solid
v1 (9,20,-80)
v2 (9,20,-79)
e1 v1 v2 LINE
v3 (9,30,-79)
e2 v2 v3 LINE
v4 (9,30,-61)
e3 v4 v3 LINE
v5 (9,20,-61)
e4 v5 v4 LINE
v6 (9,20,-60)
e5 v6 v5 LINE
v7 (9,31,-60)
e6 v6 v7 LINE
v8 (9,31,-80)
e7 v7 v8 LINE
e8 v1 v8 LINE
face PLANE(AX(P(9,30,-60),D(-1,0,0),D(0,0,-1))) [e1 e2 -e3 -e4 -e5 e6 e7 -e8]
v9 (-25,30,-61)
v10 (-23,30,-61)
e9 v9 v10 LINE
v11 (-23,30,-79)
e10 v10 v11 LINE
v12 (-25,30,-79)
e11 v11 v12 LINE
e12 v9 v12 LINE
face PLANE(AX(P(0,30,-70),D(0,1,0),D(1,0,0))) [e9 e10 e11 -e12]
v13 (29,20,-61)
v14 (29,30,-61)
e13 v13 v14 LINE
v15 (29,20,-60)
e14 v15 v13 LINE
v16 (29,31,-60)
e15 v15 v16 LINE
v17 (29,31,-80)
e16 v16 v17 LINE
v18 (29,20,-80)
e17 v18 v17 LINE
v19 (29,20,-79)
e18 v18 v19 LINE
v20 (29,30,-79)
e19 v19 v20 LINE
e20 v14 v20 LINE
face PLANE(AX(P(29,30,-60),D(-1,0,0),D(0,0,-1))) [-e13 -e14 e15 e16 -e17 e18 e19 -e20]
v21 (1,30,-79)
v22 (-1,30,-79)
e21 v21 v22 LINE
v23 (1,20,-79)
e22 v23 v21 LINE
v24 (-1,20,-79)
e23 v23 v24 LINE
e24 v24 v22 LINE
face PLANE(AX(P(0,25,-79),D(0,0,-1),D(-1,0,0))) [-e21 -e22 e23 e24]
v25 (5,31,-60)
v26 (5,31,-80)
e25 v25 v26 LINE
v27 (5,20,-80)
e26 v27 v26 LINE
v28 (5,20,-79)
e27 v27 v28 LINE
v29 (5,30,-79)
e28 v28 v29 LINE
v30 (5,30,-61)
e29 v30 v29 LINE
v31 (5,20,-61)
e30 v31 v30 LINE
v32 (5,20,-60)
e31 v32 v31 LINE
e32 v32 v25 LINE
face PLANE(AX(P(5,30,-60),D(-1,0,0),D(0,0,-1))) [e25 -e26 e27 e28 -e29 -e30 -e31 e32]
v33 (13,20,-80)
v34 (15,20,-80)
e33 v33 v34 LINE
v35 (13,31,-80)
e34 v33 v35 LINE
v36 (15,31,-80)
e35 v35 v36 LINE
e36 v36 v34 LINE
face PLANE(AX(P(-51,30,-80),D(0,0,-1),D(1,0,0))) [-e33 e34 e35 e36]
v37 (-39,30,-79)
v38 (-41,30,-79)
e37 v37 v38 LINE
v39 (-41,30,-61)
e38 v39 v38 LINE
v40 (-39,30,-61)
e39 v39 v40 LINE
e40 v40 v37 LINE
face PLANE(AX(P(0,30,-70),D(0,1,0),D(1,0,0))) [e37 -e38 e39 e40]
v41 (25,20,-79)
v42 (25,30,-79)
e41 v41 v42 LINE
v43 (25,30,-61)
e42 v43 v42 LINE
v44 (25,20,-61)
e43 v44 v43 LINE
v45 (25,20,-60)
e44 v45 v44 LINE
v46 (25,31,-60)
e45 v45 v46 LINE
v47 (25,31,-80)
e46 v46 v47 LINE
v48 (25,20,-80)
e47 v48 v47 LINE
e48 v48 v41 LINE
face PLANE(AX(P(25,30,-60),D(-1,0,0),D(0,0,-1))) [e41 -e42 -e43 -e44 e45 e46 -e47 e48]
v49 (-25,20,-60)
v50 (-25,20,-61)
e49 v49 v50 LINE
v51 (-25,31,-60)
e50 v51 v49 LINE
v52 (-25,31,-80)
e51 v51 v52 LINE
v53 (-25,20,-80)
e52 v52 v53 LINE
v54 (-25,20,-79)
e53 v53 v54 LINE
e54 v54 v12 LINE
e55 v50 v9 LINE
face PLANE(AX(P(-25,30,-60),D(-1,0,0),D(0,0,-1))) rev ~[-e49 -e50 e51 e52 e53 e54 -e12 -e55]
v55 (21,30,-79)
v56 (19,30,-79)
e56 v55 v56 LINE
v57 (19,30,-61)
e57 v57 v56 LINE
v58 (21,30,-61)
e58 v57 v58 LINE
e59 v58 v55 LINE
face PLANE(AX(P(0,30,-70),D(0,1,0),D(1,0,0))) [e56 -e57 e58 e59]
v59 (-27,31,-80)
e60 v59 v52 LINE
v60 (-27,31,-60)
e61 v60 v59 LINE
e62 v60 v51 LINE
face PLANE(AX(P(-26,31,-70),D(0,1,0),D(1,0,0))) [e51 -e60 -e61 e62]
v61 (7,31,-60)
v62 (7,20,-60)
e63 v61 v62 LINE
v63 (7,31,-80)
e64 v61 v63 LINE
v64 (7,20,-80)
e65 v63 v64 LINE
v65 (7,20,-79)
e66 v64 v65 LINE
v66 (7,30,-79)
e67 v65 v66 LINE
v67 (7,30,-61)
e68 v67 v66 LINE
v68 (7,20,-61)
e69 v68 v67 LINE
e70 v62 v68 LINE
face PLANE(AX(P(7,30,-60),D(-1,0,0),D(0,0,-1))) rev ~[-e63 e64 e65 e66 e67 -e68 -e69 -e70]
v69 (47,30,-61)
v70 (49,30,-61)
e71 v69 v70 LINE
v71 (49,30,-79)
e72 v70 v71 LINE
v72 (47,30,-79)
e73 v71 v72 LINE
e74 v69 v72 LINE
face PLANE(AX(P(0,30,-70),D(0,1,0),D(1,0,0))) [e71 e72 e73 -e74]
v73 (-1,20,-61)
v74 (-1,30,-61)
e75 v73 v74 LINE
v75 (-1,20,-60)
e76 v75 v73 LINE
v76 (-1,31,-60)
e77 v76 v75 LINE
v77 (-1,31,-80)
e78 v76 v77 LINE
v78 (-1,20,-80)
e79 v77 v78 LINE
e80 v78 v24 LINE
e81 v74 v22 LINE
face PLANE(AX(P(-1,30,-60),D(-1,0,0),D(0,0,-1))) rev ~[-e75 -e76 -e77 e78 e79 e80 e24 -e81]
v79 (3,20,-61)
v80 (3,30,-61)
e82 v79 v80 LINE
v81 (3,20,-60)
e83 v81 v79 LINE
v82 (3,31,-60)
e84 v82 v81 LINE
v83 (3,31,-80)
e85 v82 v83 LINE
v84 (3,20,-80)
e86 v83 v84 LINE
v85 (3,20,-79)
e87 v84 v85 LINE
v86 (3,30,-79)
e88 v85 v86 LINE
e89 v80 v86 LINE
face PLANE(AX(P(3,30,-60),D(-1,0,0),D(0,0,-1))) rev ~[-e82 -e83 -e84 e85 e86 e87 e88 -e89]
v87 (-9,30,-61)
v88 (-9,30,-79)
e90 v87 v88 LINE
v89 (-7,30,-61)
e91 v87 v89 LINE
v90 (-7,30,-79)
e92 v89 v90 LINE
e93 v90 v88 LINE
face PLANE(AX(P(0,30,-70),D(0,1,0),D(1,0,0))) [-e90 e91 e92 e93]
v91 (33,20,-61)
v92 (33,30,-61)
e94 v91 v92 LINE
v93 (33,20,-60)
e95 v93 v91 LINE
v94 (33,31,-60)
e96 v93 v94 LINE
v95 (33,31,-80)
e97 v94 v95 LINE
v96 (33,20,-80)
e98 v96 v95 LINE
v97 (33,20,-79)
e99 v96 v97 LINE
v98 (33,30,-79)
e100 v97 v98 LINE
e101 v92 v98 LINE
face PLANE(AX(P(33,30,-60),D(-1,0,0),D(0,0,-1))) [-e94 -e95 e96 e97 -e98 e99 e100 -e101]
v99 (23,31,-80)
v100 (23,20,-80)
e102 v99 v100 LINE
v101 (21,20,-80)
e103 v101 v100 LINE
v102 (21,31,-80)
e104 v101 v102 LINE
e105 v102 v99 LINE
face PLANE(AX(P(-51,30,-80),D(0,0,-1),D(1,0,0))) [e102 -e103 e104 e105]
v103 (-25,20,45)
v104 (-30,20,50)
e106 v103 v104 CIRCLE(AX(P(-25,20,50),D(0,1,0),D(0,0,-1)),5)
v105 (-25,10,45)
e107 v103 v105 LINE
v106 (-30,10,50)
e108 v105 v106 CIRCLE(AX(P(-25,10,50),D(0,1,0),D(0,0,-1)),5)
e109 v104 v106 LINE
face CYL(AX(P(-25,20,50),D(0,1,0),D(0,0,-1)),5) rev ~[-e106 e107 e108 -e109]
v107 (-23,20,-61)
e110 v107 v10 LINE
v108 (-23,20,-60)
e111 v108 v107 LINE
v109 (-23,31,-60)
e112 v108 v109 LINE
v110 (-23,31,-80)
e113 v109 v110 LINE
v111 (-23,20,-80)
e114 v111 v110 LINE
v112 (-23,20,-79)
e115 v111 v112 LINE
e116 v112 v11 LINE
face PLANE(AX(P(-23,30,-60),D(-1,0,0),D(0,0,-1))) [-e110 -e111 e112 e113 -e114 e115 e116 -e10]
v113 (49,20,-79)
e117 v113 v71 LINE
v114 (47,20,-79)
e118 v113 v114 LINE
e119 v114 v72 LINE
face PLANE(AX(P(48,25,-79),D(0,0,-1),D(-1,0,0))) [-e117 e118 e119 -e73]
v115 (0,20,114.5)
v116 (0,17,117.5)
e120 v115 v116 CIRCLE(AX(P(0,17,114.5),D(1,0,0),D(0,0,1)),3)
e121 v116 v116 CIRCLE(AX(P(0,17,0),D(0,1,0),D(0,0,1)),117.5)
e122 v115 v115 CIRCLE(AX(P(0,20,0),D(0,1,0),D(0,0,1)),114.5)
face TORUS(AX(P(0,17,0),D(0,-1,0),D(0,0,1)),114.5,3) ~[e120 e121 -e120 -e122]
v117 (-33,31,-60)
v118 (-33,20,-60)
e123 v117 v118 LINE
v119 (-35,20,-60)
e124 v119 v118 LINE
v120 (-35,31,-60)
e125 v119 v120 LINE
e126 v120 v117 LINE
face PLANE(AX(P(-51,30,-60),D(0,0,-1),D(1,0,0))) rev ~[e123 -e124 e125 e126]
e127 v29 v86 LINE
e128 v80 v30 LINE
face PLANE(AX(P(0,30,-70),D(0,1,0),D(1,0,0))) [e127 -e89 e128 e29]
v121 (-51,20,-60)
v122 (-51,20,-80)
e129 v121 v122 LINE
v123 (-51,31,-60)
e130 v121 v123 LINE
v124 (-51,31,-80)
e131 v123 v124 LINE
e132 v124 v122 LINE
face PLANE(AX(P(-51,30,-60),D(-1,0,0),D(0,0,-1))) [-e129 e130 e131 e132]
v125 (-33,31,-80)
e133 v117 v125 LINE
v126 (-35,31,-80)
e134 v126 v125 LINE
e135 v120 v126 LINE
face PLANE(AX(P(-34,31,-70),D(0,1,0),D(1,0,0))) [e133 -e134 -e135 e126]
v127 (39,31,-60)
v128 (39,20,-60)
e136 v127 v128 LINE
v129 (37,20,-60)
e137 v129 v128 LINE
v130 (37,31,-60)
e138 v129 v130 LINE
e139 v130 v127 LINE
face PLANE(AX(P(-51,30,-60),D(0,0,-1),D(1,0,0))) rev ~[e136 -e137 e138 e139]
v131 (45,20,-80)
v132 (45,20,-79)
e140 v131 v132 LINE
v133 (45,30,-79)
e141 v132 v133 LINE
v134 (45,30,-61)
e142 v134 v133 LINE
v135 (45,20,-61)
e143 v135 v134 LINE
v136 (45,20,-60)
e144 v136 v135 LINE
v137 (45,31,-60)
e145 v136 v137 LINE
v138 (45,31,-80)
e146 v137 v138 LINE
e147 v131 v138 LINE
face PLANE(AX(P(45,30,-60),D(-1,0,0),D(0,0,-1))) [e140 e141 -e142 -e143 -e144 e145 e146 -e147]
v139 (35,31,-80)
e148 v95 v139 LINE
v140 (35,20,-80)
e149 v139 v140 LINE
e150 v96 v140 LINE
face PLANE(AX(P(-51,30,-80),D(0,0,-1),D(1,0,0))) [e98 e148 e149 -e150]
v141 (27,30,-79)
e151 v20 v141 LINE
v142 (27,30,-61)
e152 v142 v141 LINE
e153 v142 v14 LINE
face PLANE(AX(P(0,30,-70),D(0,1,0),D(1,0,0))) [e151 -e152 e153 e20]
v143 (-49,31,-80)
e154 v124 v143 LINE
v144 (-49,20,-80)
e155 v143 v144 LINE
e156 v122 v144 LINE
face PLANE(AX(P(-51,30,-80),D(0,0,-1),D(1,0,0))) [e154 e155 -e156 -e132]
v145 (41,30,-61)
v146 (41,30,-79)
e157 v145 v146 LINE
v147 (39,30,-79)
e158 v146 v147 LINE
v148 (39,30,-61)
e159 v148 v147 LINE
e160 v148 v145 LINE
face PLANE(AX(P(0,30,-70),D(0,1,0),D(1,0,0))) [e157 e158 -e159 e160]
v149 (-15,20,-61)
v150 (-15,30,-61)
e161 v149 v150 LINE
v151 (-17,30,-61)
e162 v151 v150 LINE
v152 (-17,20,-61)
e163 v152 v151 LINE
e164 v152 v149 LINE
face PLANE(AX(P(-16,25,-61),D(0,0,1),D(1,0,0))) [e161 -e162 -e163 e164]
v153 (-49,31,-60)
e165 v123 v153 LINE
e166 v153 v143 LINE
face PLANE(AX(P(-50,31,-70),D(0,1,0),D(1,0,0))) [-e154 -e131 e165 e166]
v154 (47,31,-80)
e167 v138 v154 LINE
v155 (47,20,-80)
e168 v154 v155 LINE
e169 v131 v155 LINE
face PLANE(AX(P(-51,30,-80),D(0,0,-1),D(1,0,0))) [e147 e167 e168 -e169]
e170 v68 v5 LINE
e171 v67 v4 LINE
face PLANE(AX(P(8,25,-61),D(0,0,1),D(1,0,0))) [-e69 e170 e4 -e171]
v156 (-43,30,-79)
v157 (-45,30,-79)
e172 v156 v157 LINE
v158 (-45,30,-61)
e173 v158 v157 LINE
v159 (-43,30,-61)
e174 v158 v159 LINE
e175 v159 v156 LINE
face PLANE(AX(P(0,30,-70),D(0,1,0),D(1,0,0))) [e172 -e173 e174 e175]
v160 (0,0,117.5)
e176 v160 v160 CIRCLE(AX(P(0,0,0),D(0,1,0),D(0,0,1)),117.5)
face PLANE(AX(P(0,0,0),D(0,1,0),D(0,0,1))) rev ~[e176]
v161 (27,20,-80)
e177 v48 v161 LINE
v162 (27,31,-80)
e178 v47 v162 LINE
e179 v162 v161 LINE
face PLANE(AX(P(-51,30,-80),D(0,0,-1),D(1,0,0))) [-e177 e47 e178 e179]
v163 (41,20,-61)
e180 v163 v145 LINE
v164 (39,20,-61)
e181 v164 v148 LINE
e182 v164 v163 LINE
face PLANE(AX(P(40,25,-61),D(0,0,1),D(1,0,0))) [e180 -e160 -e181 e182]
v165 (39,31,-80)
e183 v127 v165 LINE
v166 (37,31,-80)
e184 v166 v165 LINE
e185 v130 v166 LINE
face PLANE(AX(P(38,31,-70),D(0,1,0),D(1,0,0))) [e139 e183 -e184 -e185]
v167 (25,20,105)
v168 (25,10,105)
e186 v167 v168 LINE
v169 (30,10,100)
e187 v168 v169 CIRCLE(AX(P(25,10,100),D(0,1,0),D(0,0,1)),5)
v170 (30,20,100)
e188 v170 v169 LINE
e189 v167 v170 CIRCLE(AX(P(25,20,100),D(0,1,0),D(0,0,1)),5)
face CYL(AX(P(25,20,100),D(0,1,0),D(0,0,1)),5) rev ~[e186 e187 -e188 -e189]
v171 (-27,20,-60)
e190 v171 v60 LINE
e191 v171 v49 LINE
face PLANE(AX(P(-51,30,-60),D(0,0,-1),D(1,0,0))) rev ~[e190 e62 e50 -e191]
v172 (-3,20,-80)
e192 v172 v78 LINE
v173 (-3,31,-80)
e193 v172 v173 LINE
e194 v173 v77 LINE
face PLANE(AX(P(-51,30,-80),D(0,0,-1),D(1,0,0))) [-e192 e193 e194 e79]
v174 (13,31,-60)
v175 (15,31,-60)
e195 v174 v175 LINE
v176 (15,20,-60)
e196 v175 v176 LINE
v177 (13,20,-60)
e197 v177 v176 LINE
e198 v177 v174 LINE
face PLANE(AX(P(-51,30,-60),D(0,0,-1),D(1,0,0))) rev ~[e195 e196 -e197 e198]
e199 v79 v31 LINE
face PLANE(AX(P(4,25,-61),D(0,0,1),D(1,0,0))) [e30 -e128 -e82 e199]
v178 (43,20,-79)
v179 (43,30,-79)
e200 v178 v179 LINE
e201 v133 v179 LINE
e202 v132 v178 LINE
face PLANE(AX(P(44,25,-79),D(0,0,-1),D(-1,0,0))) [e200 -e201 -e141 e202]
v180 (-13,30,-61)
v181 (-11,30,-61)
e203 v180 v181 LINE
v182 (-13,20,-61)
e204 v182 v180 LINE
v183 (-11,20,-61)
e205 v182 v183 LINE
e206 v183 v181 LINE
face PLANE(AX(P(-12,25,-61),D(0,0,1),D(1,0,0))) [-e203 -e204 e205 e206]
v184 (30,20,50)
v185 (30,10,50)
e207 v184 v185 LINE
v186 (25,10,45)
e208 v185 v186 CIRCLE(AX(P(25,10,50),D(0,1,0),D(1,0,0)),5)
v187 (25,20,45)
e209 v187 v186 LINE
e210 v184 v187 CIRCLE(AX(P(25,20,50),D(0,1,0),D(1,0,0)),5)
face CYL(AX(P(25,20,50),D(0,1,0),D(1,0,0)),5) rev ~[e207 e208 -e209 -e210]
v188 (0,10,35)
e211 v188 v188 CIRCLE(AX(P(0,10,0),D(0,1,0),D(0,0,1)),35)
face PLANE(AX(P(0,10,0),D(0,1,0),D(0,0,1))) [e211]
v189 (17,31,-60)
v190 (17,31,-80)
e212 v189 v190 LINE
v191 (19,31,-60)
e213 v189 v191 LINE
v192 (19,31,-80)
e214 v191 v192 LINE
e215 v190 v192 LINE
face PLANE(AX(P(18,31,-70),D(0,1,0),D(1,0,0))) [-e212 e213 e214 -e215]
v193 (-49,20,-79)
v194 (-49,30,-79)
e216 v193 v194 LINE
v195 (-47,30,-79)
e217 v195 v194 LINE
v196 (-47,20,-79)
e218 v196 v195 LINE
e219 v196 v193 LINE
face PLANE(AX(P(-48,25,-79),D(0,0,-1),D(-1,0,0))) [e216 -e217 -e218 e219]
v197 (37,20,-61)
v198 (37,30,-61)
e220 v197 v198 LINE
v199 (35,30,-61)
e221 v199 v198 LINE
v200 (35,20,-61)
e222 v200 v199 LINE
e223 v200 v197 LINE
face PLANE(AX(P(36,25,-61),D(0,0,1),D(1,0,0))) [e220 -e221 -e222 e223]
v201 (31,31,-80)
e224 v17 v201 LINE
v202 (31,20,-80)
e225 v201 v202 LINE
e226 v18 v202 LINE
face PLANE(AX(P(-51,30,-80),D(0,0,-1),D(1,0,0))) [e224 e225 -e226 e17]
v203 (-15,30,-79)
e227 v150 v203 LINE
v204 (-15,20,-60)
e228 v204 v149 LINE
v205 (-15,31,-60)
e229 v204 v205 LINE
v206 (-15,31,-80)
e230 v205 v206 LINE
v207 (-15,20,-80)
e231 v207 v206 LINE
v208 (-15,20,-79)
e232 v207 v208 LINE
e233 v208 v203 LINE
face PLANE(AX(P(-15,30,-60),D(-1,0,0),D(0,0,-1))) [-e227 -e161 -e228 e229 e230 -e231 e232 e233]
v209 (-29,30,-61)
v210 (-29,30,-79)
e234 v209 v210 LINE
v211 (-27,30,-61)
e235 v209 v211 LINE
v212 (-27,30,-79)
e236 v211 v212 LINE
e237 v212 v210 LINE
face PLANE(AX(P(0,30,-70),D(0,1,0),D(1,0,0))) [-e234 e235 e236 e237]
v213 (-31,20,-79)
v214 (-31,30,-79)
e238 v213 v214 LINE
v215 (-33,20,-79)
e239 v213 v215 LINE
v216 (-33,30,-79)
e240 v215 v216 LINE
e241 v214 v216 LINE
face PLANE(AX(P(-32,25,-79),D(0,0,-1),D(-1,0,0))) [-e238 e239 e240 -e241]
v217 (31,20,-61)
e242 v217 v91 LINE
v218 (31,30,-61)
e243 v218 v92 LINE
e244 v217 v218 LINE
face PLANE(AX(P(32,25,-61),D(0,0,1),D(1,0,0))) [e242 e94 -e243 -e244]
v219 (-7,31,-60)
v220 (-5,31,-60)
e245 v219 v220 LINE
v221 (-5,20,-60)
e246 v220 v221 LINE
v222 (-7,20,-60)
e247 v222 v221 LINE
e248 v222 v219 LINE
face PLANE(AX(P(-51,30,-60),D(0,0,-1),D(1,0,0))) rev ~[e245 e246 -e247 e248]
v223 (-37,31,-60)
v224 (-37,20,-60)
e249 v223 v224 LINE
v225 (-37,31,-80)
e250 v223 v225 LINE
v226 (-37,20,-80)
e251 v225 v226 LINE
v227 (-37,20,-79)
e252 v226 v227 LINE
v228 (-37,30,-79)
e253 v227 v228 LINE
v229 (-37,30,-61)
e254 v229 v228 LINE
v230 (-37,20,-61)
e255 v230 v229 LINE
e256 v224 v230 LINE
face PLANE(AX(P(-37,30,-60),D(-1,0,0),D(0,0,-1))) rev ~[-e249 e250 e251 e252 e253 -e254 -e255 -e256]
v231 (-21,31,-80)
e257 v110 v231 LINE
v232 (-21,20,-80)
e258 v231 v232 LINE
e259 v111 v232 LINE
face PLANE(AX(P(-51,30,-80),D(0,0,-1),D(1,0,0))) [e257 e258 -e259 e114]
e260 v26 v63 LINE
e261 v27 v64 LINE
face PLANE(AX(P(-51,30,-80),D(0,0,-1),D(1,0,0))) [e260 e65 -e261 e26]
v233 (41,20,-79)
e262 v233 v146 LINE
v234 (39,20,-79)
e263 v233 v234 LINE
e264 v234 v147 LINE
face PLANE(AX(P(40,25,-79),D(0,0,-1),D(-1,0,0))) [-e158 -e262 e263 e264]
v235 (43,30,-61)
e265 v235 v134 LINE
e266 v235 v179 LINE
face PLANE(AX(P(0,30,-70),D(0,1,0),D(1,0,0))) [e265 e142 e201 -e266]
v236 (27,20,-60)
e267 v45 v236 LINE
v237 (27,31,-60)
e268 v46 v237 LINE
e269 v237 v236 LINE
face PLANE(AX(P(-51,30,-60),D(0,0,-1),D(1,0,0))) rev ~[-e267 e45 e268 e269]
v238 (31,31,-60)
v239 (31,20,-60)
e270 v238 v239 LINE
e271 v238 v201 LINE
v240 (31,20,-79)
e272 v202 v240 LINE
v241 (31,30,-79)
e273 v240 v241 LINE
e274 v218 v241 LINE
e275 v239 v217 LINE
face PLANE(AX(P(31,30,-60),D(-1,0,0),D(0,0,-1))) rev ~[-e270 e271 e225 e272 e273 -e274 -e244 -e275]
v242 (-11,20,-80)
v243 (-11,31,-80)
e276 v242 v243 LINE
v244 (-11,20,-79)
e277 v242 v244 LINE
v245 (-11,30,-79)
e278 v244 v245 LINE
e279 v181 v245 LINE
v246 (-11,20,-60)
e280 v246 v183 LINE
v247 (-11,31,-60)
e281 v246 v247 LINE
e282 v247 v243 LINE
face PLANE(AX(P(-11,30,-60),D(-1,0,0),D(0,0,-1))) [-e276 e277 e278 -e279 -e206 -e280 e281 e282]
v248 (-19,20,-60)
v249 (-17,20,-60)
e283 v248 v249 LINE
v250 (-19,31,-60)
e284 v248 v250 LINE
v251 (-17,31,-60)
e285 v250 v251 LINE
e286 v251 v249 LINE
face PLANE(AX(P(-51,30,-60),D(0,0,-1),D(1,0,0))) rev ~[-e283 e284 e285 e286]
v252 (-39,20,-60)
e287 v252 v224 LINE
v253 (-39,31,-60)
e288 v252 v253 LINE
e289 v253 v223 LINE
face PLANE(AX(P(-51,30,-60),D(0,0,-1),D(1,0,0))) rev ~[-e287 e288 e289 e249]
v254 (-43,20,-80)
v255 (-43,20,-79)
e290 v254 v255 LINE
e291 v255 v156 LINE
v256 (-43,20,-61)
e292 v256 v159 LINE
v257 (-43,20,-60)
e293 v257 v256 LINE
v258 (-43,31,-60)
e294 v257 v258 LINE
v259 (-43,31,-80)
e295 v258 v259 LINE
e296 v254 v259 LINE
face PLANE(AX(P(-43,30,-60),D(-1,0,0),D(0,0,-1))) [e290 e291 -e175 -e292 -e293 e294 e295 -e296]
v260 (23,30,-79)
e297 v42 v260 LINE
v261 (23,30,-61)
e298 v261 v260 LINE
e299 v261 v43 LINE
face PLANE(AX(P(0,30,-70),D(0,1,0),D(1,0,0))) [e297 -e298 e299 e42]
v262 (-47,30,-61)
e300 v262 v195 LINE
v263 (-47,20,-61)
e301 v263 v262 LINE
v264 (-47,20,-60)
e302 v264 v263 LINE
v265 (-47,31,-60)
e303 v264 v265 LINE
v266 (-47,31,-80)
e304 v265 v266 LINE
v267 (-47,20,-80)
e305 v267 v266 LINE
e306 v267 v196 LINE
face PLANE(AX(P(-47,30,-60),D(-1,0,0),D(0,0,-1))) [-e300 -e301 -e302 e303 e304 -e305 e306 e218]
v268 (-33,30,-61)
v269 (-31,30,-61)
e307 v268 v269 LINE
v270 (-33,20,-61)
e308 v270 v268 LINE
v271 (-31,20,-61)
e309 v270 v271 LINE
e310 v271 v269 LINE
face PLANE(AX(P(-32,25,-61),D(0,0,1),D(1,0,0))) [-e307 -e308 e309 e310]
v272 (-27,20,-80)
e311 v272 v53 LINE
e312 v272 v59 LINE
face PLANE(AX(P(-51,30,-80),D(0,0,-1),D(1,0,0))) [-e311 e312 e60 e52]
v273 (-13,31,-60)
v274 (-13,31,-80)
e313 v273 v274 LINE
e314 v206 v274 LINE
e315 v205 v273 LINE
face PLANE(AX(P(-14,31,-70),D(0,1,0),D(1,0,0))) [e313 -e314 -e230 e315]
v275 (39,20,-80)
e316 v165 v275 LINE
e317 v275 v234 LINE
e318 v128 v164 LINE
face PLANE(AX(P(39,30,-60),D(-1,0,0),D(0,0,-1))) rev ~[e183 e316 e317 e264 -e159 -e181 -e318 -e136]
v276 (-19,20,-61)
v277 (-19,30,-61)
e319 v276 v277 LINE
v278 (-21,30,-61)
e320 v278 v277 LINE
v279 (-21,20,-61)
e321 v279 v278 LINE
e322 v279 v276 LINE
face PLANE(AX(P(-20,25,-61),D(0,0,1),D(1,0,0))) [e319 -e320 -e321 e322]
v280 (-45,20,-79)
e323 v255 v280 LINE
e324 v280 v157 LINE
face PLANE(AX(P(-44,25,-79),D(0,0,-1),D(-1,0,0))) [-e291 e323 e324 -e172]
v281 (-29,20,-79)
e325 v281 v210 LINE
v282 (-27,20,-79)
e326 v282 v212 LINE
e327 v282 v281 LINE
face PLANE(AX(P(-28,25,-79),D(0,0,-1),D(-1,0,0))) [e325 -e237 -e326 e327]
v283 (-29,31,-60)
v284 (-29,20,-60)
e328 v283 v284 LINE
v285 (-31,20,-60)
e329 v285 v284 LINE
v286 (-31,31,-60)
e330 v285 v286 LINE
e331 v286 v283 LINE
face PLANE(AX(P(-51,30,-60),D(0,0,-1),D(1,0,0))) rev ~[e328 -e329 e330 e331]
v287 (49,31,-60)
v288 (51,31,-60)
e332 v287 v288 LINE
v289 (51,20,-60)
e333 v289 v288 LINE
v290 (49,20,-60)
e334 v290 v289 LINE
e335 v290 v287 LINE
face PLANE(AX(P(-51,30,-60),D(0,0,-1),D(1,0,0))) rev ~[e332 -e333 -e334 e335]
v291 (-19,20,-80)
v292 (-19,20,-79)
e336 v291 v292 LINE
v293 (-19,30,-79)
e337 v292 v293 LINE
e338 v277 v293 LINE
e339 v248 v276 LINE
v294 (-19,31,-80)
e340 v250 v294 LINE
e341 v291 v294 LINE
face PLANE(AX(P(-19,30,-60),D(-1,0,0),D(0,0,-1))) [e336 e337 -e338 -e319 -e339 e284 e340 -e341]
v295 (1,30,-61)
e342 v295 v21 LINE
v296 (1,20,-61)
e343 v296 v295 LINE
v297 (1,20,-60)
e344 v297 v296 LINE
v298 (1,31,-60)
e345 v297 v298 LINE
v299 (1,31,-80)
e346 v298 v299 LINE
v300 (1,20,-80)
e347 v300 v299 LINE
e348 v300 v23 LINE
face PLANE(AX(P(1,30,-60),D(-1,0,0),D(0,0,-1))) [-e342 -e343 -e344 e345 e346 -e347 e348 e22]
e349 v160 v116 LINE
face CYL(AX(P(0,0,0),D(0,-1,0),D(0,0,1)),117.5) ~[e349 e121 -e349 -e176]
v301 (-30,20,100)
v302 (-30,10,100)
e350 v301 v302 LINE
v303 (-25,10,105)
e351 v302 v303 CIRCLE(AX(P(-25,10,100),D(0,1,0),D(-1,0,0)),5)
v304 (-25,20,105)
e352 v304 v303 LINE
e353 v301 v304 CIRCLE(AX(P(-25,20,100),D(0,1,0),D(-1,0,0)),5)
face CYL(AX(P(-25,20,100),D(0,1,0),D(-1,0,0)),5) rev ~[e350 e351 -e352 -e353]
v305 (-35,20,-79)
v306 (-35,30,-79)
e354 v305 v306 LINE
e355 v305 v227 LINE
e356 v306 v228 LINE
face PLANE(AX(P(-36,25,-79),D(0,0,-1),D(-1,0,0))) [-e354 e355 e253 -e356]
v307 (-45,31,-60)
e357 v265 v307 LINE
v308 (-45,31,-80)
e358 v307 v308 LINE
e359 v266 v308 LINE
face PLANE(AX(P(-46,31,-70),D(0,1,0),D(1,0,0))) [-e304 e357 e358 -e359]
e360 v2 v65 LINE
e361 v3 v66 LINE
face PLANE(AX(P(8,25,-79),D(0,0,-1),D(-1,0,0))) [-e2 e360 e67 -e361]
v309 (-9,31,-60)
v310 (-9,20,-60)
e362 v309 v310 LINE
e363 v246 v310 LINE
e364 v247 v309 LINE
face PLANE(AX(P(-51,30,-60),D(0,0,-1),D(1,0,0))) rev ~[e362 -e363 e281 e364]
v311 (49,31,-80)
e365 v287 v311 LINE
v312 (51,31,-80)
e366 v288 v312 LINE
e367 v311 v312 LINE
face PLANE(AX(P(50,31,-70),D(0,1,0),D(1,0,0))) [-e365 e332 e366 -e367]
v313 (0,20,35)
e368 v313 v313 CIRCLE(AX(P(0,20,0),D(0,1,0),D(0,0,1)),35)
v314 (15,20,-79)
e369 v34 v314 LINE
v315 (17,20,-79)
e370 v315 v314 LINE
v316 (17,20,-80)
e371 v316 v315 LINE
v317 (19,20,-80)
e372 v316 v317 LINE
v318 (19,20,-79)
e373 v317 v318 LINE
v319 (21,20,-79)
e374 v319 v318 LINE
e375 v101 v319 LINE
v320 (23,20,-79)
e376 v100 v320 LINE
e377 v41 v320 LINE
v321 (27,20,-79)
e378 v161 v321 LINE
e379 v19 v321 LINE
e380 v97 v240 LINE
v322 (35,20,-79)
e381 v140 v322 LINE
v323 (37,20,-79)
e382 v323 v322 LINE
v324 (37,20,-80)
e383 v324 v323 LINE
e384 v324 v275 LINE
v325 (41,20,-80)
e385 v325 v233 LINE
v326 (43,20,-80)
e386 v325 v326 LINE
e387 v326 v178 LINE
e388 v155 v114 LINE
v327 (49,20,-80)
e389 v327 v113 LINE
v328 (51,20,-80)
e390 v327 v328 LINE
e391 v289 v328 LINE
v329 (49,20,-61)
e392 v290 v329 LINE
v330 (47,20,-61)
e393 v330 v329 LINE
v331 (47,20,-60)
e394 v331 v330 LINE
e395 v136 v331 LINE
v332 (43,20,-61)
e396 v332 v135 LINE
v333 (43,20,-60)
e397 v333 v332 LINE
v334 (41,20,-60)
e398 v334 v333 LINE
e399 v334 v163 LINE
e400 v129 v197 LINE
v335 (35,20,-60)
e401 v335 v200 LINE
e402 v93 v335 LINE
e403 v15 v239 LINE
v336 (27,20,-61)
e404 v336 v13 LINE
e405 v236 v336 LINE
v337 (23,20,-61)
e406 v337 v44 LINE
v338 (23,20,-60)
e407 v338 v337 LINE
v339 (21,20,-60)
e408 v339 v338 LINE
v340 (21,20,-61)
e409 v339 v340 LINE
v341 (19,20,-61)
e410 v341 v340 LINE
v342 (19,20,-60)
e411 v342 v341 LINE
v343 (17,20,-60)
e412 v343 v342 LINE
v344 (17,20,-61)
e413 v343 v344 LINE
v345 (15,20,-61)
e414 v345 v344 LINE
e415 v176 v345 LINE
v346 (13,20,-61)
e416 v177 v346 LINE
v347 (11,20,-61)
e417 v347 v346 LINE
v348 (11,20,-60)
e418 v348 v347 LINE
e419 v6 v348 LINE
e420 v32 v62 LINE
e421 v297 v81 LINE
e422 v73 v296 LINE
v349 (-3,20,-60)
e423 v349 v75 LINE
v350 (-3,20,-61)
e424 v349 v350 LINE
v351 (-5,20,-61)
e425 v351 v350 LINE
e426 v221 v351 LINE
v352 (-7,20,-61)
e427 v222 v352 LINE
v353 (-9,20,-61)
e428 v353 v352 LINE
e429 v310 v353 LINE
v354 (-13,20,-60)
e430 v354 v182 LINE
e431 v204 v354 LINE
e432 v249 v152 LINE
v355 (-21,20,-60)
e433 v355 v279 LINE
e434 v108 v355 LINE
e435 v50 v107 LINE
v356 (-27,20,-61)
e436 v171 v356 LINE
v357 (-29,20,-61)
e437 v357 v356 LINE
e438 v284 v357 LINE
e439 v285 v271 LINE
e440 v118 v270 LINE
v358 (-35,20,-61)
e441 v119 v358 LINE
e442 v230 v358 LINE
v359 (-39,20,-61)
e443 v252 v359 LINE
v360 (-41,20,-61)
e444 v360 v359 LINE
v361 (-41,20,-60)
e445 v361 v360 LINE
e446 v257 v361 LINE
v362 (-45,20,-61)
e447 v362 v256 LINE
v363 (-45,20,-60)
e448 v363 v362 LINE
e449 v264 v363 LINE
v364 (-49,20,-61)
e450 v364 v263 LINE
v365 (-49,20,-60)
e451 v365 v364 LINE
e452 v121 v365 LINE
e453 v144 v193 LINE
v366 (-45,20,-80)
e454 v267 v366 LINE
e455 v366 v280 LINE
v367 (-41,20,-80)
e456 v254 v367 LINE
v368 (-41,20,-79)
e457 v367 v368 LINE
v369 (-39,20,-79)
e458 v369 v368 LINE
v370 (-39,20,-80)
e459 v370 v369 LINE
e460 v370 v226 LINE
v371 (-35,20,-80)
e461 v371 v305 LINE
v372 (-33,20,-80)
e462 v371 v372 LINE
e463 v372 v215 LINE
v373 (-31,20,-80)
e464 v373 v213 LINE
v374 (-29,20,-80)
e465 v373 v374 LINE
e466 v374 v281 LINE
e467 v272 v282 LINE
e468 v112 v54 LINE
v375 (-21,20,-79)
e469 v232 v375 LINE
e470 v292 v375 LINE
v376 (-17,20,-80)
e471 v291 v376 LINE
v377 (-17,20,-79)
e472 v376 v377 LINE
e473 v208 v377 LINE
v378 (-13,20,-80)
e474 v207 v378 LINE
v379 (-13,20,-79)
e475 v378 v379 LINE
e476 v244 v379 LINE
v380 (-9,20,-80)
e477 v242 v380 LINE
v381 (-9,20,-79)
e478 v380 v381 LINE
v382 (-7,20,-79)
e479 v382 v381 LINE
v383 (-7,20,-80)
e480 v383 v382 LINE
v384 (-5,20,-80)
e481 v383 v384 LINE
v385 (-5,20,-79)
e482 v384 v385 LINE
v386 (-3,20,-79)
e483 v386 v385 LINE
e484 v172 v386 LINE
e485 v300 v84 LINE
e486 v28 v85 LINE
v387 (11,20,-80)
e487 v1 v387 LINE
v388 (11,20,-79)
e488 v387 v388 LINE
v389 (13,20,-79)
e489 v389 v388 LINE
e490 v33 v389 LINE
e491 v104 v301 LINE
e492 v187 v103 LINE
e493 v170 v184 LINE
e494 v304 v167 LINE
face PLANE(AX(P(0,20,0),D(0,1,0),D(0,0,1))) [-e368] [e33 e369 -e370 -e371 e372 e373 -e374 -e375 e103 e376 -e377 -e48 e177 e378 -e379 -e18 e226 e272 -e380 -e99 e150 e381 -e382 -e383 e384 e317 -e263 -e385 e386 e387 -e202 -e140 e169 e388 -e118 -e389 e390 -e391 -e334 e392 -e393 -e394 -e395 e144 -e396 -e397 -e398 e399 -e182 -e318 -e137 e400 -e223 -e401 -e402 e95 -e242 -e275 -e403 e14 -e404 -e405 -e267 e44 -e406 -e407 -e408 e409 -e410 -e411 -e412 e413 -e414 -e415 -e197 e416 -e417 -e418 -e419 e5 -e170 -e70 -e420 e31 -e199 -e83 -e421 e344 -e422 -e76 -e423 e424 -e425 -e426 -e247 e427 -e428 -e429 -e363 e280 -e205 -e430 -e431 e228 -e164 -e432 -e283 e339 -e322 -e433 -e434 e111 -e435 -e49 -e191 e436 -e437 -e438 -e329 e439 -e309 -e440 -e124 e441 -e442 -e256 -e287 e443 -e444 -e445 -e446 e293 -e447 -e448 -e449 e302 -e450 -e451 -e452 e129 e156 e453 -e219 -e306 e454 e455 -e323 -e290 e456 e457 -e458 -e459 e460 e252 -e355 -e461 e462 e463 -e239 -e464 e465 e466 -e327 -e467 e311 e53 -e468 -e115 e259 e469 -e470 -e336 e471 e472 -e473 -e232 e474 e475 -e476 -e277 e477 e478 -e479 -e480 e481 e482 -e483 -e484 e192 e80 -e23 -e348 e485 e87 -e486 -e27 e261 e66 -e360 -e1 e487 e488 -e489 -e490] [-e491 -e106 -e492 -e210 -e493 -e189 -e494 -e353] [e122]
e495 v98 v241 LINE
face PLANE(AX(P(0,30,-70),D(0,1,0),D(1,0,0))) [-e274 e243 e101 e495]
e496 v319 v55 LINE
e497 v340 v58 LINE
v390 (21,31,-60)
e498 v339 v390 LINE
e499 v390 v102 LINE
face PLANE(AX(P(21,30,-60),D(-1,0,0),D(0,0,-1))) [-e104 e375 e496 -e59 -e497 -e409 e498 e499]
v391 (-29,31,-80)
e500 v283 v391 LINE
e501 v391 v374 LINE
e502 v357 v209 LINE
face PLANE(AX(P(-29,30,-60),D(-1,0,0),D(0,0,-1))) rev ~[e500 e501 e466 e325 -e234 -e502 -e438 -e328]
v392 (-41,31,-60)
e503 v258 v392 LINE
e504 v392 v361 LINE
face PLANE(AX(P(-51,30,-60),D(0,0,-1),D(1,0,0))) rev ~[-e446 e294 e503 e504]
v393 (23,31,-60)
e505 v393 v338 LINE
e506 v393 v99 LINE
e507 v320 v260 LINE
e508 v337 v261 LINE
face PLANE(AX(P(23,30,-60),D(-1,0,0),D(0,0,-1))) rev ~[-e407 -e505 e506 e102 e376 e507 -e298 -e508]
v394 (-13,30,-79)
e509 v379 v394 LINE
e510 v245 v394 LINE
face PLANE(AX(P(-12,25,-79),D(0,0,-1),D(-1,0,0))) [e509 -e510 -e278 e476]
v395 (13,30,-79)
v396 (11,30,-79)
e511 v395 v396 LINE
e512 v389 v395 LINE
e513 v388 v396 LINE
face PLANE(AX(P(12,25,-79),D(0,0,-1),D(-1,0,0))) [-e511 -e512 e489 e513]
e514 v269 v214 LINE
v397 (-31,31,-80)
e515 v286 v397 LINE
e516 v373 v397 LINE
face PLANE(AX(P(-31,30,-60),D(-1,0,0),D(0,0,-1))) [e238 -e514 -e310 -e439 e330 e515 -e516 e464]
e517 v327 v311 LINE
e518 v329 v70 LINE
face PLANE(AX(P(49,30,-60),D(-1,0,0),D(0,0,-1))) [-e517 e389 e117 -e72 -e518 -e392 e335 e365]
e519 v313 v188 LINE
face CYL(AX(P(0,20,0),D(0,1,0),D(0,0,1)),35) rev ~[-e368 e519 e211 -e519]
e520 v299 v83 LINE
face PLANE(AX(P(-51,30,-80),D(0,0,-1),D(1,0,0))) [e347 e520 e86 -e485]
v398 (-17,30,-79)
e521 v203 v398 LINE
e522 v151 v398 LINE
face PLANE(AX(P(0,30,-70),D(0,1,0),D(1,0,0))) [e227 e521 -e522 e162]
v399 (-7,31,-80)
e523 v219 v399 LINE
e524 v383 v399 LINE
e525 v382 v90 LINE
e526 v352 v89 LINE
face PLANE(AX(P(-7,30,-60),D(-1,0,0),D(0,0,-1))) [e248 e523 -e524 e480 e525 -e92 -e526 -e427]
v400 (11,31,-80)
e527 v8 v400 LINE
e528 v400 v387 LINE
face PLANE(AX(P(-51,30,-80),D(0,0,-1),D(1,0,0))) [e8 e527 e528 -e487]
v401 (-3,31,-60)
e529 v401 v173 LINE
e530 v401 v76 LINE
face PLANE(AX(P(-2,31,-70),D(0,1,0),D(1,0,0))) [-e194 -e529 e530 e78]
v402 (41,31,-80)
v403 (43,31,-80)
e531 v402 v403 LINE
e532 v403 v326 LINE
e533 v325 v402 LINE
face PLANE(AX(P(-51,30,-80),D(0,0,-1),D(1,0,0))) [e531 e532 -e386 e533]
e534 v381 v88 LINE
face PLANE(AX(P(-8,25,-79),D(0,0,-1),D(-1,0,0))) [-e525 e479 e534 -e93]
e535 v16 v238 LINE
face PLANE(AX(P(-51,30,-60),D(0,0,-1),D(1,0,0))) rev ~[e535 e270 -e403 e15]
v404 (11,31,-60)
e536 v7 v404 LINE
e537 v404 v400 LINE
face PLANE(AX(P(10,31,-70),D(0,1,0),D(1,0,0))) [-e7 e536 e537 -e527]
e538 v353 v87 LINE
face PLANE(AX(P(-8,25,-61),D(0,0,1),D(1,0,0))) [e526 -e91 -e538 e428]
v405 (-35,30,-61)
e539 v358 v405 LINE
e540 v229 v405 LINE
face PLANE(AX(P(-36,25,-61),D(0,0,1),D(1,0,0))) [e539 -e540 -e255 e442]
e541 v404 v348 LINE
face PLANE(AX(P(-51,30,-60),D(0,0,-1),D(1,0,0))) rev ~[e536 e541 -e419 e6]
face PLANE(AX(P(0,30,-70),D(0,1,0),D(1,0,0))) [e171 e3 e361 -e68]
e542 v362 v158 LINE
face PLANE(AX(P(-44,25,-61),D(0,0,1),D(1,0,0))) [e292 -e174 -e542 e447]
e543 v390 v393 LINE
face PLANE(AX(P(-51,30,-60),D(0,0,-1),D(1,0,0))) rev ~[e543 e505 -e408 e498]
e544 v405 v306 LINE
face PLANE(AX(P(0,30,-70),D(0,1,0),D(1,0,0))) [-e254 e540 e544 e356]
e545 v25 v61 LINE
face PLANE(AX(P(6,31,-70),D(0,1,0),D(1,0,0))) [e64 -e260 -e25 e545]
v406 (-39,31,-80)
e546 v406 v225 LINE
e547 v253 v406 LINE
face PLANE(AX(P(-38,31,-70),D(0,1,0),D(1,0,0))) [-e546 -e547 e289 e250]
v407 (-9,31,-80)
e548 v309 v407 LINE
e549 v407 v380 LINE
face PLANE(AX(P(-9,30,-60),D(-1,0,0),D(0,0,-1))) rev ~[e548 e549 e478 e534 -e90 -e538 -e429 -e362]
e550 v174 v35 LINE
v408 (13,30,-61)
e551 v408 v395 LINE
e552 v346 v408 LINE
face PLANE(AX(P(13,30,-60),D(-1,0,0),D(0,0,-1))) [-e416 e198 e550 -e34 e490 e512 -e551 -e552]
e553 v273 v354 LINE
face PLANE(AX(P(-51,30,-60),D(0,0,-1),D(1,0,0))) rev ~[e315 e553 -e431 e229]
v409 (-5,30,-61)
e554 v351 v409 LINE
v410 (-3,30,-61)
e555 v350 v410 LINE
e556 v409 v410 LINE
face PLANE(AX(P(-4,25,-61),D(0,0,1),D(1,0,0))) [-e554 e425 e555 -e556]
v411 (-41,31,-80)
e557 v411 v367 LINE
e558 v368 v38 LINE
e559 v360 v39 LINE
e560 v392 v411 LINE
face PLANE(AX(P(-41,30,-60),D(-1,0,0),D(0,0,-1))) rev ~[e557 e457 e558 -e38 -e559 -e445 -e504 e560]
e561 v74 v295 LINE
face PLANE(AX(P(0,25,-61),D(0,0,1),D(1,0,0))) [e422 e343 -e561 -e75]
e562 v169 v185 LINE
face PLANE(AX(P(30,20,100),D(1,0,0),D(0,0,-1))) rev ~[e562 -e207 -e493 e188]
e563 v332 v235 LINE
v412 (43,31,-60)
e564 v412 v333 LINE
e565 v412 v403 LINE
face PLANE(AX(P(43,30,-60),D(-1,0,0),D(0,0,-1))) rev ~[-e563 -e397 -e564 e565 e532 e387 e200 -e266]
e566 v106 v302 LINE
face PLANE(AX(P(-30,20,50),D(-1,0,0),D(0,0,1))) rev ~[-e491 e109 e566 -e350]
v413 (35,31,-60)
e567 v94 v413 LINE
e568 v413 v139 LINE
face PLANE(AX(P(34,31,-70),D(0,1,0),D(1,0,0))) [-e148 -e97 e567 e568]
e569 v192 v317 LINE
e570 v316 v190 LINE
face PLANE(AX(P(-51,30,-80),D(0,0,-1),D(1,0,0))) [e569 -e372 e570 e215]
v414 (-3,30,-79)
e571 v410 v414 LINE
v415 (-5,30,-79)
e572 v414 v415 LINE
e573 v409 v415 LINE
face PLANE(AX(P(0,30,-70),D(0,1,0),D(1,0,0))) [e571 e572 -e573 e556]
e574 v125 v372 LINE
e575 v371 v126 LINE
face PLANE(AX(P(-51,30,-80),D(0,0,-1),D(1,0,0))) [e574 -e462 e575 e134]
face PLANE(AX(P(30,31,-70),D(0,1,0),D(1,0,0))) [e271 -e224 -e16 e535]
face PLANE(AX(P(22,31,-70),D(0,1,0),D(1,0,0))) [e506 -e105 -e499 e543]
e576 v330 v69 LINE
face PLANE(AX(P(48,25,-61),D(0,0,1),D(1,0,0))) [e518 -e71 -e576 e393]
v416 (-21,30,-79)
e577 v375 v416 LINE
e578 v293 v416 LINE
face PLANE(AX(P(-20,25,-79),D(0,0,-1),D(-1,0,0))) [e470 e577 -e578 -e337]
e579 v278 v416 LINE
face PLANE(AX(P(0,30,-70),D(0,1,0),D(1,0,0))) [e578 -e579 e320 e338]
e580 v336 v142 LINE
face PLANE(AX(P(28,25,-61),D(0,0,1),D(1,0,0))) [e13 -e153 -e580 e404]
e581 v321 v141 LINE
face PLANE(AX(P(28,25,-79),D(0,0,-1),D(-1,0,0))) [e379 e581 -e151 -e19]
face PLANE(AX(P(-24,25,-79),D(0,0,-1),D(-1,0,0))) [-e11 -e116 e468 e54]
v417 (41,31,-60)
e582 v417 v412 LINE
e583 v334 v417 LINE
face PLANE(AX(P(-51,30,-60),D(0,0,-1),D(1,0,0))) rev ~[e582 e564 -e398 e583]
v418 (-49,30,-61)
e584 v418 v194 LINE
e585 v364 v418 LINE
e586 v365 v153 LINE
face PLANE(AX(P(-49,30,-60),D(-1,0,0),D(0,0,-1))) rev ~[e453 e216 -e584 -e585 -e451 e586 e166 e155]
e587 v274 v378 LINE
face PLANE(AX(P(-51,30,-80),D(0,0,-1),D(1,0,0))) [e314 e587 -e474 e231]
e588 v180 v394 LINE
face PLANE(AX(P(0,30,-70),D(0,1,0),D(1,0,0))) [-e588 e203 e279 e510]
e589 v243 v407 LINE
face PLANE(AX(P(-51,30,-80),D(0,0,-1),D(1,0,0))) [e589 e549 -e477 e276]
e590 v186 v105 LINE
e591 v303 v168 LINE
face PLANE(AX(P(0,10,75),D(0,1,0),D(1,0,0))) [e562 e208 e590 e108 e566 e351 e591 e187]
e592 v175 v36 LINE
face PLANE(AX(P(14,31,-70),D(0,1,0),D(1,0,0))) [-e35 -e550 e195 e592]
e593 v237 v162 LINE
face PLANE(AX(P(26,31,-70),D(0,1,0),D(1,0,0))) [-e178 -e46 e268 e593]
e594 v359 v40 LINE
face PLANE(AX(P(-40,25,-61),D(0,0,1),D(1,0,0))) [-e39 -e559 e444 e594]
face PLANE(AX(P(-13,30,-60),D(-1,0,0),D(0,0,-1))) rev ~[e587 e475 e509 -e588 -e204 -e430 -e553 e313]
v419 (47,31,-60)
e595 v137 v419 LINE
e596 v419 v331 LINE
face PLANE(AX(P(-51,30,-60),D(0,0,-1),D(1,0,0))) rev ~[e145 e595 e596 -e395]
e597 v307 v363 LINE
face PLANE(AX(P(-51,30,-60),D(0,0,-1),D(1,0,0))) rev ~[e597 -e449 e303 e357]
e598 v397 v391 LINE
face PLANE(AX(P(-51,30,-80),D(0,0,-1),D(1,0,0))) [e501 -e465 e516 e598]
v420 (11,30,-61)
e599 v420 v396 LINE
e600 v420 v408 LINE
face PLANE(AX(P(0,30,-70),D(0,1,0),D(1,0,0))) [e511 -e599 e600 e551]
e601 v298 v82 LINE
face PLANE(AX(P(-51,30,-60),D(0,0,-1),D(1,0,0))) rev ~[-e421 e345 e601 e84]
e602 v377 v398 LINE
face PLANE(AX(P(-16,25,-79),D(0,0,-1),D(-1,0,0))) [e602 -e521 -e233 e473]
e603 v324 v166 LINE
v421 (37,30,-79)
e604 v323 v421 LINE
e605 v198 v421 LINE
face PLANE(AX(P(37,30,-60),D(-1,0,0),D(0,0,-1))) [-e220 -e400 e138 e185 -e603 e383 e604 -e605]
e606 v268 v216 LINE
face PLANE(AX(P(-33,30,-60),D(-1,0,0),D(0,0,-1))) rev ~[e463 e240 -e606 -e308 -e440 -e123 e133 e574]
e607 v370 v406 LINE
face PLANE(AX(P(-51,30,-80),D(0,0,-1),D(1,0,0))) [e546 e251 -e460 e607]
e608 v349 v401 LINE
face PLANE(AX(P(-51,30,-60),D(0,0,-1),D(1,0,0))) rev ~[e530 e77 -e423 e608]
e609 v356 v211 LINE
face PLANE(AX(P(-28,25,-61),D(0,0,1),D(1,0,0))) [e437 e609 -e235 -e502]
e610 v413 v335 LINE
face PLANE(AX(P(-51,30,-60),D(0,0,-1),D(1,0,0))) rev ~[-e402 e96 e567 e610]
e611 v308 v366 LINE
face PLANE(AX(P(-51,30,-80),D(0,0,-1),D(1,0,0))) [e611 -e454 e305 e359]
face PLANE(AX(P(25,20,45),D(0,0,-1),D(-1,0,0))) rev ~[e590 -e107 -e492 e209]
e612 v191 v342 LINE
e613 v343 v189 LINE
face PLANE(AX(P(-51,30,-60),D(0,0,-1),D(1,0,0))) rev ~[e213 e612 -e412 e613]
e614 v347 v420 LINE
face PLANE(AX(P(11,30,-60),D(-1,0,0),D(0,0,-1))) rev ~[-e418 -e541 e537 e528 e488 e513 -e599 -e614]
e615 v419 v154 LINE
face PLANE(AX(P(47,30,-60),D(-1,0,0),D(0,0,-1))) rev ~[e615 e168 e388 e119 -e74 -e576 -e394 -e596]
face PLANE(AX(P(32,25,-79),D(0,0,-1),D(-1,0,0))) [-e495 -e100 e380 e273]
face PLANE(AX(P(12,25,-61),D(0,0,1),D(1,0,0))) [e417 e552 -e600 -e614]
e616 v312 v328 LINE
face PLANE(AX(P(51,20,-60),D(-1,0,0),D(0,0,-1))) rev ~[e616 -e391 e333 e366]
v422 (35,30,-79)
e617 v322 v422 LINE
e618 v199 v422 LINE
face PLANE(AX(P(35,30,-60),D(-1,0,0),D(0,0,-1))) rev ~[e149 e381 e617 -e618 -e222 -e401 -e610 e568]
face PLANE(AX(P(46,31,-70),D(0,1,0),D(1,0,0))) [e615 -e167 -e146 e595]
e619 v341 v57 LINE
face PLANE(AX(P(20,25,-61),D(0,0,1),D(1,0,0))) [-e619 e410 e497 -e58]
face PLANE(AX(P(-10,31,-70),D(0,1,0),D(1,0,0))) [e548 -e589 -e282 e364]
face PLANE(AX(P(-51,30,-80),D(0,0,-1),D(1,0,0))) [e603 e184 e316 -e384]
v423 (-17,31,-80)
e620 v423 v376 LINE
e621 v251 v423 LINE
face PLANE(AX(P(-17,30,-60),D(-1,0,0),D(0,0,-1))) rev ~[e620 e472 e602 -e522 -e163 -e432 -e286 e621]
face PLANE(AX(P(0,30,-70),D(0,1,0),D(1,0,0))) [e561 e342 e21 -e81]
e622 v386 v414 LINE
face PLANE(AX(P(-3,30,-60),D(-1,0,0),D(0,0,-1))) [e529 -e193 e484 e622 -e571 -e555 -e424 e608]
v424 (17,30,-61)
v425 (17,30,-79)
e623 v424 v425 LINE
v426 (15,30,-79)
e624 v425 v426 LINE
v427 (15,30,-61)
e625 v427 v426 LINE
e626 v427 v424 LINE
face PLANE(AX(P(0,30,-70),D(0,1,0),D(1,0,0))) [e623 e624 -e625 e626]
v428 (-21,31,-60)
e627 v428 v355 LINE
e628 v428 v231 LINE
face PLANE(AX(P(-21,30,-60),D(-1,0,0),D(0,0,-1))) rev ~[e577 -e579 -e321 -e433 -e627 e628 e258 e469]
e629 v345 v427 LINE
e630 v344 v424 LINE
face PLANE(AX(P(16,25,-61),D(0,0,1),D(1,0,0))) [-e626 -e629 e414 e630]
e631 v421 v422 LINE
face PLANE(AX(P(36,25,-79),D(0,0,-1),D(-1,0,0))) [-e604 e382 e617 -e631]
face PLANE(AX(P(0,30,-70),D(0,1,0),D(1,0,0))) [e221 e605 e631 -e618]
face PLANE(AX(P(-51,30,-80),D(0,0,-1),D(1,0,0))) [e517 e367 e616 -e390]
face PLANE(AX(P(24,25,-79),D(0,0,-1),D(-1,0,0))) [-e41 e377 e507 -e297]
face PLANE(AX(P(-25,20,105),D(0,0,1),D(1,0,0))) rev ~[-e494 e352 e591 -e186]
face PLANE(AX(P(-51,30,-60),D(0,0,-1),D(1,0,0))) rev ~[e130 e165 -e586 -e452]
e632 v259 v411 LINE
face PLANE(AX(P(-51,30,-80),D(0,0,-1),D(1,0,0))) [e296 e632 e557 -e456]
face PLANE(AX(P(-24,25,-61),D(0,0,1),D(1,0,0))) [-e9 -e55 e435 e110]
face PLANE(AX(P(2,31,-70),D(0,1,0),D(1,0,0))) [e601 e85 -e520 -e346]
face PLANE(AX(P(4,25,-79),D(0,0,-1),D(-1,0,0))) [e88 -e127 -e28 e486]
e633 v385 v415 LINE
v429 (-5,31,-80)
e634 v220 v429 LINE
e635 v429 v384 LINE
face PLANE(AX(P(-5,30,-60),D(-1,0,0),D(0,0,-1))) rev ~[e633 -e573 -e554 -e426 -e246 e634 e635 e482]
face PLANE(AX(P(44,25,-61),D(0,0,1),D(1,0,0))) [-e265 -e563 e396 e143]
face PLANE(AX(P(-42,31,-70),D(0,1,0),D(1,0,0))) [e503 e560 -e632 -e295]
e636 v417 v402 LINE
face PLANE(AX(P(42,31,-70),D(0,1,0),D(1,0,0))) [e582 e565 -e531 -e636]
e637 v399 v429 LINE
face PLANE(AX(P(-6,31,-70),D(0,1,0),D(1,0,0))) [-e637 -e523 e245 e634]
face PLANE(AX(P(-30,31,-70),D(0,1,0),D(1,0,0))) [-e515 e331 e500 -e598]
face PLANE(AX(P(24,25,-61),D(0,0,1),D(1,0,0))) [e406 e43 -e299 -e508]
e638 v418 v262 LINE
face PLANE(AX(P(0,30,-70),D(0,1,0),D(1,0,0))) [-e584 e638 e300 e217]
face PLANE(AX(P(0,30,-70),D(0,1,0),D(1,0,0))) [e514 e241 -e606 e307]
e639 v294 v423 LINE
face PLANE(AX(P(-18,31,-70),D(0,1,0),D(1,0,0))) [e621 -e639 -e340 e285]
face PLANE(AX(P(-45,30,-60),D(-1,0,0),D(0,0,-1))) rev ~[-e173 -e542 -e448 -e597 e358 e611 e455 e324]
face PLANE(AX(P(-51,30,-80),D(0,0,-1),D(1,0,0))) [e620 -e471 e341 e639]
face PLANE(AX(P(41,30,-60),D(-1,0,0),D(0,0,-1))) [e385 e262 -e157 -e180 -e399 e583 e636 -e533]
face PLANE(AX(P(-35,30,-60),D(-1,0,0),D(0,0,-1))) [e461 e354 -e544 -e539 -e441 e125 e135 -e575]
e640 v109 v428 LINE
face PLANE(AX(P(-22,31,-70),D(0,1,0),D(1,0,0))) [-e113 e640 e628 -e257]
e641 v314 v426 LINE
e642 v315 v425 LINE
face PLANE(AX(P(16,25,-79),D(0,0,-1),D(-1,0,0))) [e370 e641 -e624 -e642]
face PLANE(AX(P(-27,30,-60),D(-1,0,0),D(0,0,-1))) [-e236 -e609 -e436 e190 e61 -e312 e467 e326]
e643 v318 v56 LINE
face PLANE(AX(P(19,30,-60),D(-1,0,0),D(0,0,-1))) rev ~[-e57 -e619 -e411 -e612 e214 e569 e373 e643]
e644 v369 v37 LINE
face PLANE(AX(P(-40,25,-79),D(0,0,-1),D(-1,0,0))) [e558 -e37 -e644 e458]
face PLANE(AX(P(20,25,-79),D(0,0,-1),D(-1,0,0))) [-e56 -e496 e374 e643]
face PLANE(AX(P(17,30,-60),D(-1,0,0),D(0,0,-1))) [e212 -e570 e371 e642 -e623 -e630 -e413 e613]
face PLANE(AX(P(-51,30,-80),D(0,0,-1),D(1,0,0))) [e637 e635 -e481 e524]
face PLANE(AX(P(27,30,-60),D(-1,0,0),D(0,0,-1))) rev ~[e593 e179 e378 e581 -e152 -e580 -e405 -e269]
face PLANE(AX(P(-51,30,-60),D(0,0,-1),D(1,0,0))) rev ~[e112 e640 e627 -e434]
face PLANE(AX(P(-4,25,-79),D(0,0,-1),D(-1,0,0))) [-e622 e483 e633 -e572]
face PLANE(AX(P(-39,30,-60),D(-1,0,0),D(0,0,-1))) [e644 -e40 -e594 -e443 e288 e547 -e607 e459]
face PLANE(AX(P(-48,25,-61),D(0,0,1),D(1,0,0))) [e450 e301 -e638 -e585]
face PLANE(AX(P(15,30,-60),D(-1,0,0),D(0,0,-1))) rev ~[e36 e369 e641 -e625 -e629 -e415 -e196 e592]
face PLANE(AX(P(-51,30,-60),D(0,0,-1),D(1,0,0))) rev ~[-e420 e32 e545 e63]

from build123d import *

# Parameters (mm, degrees)
SKETCH1_R           = 117.5
BOSS_EXTRUDE1_DEPTH = 20
SKETCH2_R           = 35
CUT_EXTRUDE1_DEPTH  = 10
SKETCH3_W           = 102
SKETCH3_H           = 20
BOSS_EXTRUDE2_DEPTH = 10
SKETCH6_W           = 2
SKETCH6_H           = 20
BOSS_EXTRUDE3_DEPTH = 1
SKETCH7_W           = 2
SKETCH7_H           = 10
CUT_EXTRUDE2_DEPTH  = 1
SKETCH8_W           = 2
SKETCH8_H           = 10
CUT_EXTRUDE3_DEPTH  = 1
FILLET3_R           = 3


with BuildPart() as part:
    # Sketch1 → Boss-Extrude1 (new body)
    with BuildSketch(Plane(origin=(0, 0, 0), x_dir=(1, 0, 0), z_dir=(0, 1, 0))):
        with Locations(Location((0, 0, 0), (0, 0, 270))):
            Circle(SKETCH1_R)
    extrude(amount=BOSS_EXTRUDE1_DEPTH)

    # Sketch2 → Cut-Extrude1 (cut)
    with BuildSketch(Plane(origin=(0, 20, 0), x_dir=(1, 0, 0), z_dir=(0, 1, 0))):
        with Locations(Location((0, 0, 0), (0, 0, 270))):
            Circle(SKETCH2_R)
        with BuildLine():
            Line((-25, -105), (25, -105))
            ThreePointArc((25, -105), (28.535533906, -103.535533906), (30, -100))
            Line((30, -100), (30, -50))
            ThreePointArc((30, -50), (28.535533906, -46.464466094), (25, -45))
            Line((25, -45), (-25, -45))
            ThreePointArc((-25, -45), (-28.535533906, -46.464466094), (-30, -50))
            Line((-30, -50), (-30, -100))
            ThreePointArc((-30, -100), (-28.535533906, -103.535533906), (-25, -105))
        make_face()
    extrude(amount=-CUT_EXTRUDE1_DEPTH, mode=Mode.SUBTRACT)

    # Sketch3 → Boss-Extrude2 (add)
    with BuildSketch(Plane(origin=(0, 20, 0), x_dir=(1, 0, 0), z_dir=(0, 1, 0))):
        with Locations((0, 70)):
            Rectangle(SKETCH3_W, SKETCH3_H)
    extrude(amount=BOSS_EXTRUDE2_DEPTH)

    # Sketch6 → Boss-Extrude3 (add)
    with BuildSketch(Plane(origin=(0, 30, 0), x_dir=(1, 0, 0), z_dir=(0, 1, 0))):
        with Locations((-50, 70)):
            Rectangle(SKETCH6_W, SKETCH6_H)
        with Locations((-46, 70)):
            Rectangle(SKETCH6_W, SKETCH6_H)
        with Locations((-42, 70)):
            Rectangle(SKETCH6_W, SKETCH6_H)
        with Locations((-38, 70)):
            Rectangle(SKETCH6_W, SKETCH6_H)
        with Locations((-34, 70)):
            Rectangle(SKETCH6_W, SKETCH6_H)
        with Locations((-30, 70)):
            Rectangle(SKETCH6_W, SKETCH6_H)
        with Locations((-26, 70)):
            Rectangle(SKETCH6_W, SKETCH6_H)
        with Locations((-22, 70)):
            Rectangle(SKETCH6_W, SKETCH6_H)
        with Locations((-18, 70)):
            Rectangle(SKETCH6_W, SKETCH6_H)
        with Locations((-14, 70)):
            Rectangle(SKETCH6_W, SKETCH6_H)
        with Locations((-10, 70)):
            Rectangle(SKETCH6_W, SKETCH6_H)
        with Locations((-6, 70)):
            Rectangle(SKETCH6_W, SKETCH6_H)
        with Locations((-2, 70)):
            Rectangle(SKETCH6_W, SKETCH6_H)
        with Locations((2, 70)):
            Rectangle(SKETCH6_W, SKETCH6_H)
        with Locations((6, 70)):
            Rectangle(SKETCH6_W, SKETCH6_H)
        with Locations((10, 70)):
            Rectangle(SKETCH6_W, SKETCH6_H)
        with Locations((14, 70)):
            Rectangle(SKETCH6_W, SKETCH6_H)
        with Locations((18, 70)):
            Rectangle(SKETCH6_W, SKETCH6_H)
        with Locations((22, 70)):
            Rectangle(SKETCH6_W, SKETCH6_H)
        with Locations((26, 70)):
            Rectangle(SKETCH6_W, SKETCH6_H)
        with Locations((30, 70)):
            Rectangle(SKETCH6_W, SKETCH6_H)
        with Locations((34, 70)):
            Rectangle(SKETCH6_W, SKETCH6_H)
        with Locations((38, 70)):
            Rectangle(SKETCH6_W, SKETCH6_H)
        with Locations((42, 70)):
            Rectangle(SKETCH6_W, SKETCH6_H)
        with Locations((46, 70)):
            Rectangle(SKETCH6_W, SKETCH6_H)
        with Locations((50, 70)):
            Rectangle(SKETCH6_W, SKETCH6_H)
    extrude(amount=BOSS_EXTRUDE3_DEPTH)

    # Sketch7 → Cut-Extrude2 (cut)
    with BuildSketch(Plane.XY.offset(-60)):
        with Locations((-48, 25)):
            Rectangle(SKETCH7_W, SKETCH7_H)
        with Locations((-44, 25)):
            Rectangle(SKETCH7_W, SKETCH7_H)
        with Locations((-40, 25)):
            Rectangle(SKETCH7_W, SKETCH7_H)
        with Locations((-36, 25)):
            Rectangle(SKETCH7_W, SKETCH7_H)
        with Locations((-32, 25)):
            Rectangle(SKETCH7_W, SKETCH7_H)
        with Locations((-28, 25)):
            Rectangle(SKETCH7_W, SKETCH7_H)
        with Locations((-24, 25)):
            Rectangle(SKETCH7_W, SKETCH7_H)
        with Locations((-20, 25)):
            Rectangle(SKETCH7_W, SKETCH7_H)
        with Locations((-16, 25)):
            Rectangle(SKETCH7_W, SKETCH7_H)
        with Locations((-12, 25)):
            Rectangle(SKETCH7_W, SKETCH7_H)
        with Locations((-8, 25)):
            Rectangle(SKETCH7_W, SKETCH7_H)
        with Locations((-4, 25)):
            Rectangle(SKETCH7_W, SKETCH7_H)
        with Locations((0, 25)):
            Rectangle(SKETCH7_W, SKETCH7_H)
        with Locations((4, 25)):
            Rectangle(SKETCH7_W, SKETCH7_H)
        with Locations((8, 25)):
            Rectangle(SKETCH7_W, SKETCH7_H)
        with Locations((12, 25)):
            Rectangle(SKETCH7_W, SKETCH7_H)
        with Locations((16, 25)):
            Rectangle(SKETCH7_W, SKETCH7_H)
        with Locations((20, 25)):
            Rectangle(SKETCH7_W, SKETCH7_H)
        with Locations((24, 25)):
            Rectangle(SKETCH7_W, SKETCH7_H)
        with Locations((28, 25)):
            Rectangle(SKETCH7_W, SKETCH7_H)
        with Locations((32, 25)):
            Rectangle(SKETCH7_W, SKETCH7_H)
        with Locations((36, 25)):
            Rectangle(SKETCH7_W, SKETCH7_H)
        with Locations((40, 25)):
            Rectangle(SKETCH7_W, SKETCH7_H)
        with Locations((44, 25)):
            Rectangle(SKETCH7_W, SKETCH7_H)
        with Locations((48, 25)):
            Rectangle(SKETCH7_W, SKETCH7_H)
    extrude(amount=-CUT_EXTRUDE2_DEPTH, mode=Mode.SUBTRACT)

    # Sketch8 → Cut-Extrude3 (cut)
    with BuildSketch(Plane(origin=(0, 0, -80), x_dir=(-1, 0, 0), z_dir=(0, 0, -1))):
        with Locations((-48, 25)):
            Rectangle(SKETCH8_W, SKETCH8_H)
        with Locations((-44, 25)):
            Rectangle(SKETCH8_W, SKETCH8_H)
        with Locations((-40, 25)):
            Rectangle(SKETCH8_W, SKETCH8_H)
        with Locations((-36, 25)):
            Rectangle(SKETCH8_W, SKETCH8_H)
        with Locations((-32, 25)):
            Rectangle(SKETCH8_W, SKETCH8_H)
        with Locations((-28, 25)):
            Rectangle(SKETCH8_W, SKETCH8_H)
        with Locations((-24, 25)):
            Rectangle(SKETCH8_W, SKETCH8_H)
        with Locations((-20, 25)):
            Rectangle(SKETCH8_W, SKETCH8_H)
        with Locations((-16, 25)):
            Rectangle(SKETCH8_W, SKETCH8_H)
        with Locations((-12, 25)):
            Rectangle(SKETCH8_W, SKETCH8_H)
        with Locations((-8, 25)):
            Rectangle(SKETCH8_W, SKETCH8_H)
        with Locations((-4, 25)):
            Rectangle(SKETCH8_W, SKETCH8_H)
        with Locations((0, 25)):
            Rectangle(SKETCH8_W, SKETCH8_H)
        with Locations((4, 25)):
            Rectangle(SKETCH8_W, SKETCH8_H)
        with Locations((8, 25)):
            Rectangle(SKETCH8_W, SKETCH8_H)
        with Locations((12, 25)):
            Rectangle(SKETCH8_W, SKETCH8_H)
        with Locations((16, 25)):
            Rectangle(SKETCH8_W, SKETCH8_H)
        with Locations((20, 25)):
            Rectangle(SKETCH8_W, SKETCH8_H)
        with Locations((24, 25)):
            Rectangle(SKETCH8_W, SKETCH8_H)
        with Locations((28, 25)):
            Rectangle(SKETCH8_W, SKETCH8_H)
        with Locations((32, 25)):
            Rectangle(SKETCH8_W, SKETCH8_H)
        with Locations((36, 25)):
            Rectangle(SKETCH8_W, SKETCH8_H)
        with Locations((40, 25)):
            Rectangle(SKETCH8_W, SKETCH8_H)
        with Locations((44, 25)):
            Rectangle(SKETCH8_W, SKETCH8_H)
        with Locations((48, 25)):
            Rectangle(SKETCH8_W, SKETCH8_H)
    extrude(amount=-CUT_EXTRUDE3_DEPTH, mode=Mode.SUBTRACT)

    # Fillet3
    fillet3_edges = [part.edges().sort_by_distance(p)[0] for p in [
        (0, 20, -117.5),
    ]]
    fillet(fillet3_edges, radius=FILLET3_R)


solid = part.part
